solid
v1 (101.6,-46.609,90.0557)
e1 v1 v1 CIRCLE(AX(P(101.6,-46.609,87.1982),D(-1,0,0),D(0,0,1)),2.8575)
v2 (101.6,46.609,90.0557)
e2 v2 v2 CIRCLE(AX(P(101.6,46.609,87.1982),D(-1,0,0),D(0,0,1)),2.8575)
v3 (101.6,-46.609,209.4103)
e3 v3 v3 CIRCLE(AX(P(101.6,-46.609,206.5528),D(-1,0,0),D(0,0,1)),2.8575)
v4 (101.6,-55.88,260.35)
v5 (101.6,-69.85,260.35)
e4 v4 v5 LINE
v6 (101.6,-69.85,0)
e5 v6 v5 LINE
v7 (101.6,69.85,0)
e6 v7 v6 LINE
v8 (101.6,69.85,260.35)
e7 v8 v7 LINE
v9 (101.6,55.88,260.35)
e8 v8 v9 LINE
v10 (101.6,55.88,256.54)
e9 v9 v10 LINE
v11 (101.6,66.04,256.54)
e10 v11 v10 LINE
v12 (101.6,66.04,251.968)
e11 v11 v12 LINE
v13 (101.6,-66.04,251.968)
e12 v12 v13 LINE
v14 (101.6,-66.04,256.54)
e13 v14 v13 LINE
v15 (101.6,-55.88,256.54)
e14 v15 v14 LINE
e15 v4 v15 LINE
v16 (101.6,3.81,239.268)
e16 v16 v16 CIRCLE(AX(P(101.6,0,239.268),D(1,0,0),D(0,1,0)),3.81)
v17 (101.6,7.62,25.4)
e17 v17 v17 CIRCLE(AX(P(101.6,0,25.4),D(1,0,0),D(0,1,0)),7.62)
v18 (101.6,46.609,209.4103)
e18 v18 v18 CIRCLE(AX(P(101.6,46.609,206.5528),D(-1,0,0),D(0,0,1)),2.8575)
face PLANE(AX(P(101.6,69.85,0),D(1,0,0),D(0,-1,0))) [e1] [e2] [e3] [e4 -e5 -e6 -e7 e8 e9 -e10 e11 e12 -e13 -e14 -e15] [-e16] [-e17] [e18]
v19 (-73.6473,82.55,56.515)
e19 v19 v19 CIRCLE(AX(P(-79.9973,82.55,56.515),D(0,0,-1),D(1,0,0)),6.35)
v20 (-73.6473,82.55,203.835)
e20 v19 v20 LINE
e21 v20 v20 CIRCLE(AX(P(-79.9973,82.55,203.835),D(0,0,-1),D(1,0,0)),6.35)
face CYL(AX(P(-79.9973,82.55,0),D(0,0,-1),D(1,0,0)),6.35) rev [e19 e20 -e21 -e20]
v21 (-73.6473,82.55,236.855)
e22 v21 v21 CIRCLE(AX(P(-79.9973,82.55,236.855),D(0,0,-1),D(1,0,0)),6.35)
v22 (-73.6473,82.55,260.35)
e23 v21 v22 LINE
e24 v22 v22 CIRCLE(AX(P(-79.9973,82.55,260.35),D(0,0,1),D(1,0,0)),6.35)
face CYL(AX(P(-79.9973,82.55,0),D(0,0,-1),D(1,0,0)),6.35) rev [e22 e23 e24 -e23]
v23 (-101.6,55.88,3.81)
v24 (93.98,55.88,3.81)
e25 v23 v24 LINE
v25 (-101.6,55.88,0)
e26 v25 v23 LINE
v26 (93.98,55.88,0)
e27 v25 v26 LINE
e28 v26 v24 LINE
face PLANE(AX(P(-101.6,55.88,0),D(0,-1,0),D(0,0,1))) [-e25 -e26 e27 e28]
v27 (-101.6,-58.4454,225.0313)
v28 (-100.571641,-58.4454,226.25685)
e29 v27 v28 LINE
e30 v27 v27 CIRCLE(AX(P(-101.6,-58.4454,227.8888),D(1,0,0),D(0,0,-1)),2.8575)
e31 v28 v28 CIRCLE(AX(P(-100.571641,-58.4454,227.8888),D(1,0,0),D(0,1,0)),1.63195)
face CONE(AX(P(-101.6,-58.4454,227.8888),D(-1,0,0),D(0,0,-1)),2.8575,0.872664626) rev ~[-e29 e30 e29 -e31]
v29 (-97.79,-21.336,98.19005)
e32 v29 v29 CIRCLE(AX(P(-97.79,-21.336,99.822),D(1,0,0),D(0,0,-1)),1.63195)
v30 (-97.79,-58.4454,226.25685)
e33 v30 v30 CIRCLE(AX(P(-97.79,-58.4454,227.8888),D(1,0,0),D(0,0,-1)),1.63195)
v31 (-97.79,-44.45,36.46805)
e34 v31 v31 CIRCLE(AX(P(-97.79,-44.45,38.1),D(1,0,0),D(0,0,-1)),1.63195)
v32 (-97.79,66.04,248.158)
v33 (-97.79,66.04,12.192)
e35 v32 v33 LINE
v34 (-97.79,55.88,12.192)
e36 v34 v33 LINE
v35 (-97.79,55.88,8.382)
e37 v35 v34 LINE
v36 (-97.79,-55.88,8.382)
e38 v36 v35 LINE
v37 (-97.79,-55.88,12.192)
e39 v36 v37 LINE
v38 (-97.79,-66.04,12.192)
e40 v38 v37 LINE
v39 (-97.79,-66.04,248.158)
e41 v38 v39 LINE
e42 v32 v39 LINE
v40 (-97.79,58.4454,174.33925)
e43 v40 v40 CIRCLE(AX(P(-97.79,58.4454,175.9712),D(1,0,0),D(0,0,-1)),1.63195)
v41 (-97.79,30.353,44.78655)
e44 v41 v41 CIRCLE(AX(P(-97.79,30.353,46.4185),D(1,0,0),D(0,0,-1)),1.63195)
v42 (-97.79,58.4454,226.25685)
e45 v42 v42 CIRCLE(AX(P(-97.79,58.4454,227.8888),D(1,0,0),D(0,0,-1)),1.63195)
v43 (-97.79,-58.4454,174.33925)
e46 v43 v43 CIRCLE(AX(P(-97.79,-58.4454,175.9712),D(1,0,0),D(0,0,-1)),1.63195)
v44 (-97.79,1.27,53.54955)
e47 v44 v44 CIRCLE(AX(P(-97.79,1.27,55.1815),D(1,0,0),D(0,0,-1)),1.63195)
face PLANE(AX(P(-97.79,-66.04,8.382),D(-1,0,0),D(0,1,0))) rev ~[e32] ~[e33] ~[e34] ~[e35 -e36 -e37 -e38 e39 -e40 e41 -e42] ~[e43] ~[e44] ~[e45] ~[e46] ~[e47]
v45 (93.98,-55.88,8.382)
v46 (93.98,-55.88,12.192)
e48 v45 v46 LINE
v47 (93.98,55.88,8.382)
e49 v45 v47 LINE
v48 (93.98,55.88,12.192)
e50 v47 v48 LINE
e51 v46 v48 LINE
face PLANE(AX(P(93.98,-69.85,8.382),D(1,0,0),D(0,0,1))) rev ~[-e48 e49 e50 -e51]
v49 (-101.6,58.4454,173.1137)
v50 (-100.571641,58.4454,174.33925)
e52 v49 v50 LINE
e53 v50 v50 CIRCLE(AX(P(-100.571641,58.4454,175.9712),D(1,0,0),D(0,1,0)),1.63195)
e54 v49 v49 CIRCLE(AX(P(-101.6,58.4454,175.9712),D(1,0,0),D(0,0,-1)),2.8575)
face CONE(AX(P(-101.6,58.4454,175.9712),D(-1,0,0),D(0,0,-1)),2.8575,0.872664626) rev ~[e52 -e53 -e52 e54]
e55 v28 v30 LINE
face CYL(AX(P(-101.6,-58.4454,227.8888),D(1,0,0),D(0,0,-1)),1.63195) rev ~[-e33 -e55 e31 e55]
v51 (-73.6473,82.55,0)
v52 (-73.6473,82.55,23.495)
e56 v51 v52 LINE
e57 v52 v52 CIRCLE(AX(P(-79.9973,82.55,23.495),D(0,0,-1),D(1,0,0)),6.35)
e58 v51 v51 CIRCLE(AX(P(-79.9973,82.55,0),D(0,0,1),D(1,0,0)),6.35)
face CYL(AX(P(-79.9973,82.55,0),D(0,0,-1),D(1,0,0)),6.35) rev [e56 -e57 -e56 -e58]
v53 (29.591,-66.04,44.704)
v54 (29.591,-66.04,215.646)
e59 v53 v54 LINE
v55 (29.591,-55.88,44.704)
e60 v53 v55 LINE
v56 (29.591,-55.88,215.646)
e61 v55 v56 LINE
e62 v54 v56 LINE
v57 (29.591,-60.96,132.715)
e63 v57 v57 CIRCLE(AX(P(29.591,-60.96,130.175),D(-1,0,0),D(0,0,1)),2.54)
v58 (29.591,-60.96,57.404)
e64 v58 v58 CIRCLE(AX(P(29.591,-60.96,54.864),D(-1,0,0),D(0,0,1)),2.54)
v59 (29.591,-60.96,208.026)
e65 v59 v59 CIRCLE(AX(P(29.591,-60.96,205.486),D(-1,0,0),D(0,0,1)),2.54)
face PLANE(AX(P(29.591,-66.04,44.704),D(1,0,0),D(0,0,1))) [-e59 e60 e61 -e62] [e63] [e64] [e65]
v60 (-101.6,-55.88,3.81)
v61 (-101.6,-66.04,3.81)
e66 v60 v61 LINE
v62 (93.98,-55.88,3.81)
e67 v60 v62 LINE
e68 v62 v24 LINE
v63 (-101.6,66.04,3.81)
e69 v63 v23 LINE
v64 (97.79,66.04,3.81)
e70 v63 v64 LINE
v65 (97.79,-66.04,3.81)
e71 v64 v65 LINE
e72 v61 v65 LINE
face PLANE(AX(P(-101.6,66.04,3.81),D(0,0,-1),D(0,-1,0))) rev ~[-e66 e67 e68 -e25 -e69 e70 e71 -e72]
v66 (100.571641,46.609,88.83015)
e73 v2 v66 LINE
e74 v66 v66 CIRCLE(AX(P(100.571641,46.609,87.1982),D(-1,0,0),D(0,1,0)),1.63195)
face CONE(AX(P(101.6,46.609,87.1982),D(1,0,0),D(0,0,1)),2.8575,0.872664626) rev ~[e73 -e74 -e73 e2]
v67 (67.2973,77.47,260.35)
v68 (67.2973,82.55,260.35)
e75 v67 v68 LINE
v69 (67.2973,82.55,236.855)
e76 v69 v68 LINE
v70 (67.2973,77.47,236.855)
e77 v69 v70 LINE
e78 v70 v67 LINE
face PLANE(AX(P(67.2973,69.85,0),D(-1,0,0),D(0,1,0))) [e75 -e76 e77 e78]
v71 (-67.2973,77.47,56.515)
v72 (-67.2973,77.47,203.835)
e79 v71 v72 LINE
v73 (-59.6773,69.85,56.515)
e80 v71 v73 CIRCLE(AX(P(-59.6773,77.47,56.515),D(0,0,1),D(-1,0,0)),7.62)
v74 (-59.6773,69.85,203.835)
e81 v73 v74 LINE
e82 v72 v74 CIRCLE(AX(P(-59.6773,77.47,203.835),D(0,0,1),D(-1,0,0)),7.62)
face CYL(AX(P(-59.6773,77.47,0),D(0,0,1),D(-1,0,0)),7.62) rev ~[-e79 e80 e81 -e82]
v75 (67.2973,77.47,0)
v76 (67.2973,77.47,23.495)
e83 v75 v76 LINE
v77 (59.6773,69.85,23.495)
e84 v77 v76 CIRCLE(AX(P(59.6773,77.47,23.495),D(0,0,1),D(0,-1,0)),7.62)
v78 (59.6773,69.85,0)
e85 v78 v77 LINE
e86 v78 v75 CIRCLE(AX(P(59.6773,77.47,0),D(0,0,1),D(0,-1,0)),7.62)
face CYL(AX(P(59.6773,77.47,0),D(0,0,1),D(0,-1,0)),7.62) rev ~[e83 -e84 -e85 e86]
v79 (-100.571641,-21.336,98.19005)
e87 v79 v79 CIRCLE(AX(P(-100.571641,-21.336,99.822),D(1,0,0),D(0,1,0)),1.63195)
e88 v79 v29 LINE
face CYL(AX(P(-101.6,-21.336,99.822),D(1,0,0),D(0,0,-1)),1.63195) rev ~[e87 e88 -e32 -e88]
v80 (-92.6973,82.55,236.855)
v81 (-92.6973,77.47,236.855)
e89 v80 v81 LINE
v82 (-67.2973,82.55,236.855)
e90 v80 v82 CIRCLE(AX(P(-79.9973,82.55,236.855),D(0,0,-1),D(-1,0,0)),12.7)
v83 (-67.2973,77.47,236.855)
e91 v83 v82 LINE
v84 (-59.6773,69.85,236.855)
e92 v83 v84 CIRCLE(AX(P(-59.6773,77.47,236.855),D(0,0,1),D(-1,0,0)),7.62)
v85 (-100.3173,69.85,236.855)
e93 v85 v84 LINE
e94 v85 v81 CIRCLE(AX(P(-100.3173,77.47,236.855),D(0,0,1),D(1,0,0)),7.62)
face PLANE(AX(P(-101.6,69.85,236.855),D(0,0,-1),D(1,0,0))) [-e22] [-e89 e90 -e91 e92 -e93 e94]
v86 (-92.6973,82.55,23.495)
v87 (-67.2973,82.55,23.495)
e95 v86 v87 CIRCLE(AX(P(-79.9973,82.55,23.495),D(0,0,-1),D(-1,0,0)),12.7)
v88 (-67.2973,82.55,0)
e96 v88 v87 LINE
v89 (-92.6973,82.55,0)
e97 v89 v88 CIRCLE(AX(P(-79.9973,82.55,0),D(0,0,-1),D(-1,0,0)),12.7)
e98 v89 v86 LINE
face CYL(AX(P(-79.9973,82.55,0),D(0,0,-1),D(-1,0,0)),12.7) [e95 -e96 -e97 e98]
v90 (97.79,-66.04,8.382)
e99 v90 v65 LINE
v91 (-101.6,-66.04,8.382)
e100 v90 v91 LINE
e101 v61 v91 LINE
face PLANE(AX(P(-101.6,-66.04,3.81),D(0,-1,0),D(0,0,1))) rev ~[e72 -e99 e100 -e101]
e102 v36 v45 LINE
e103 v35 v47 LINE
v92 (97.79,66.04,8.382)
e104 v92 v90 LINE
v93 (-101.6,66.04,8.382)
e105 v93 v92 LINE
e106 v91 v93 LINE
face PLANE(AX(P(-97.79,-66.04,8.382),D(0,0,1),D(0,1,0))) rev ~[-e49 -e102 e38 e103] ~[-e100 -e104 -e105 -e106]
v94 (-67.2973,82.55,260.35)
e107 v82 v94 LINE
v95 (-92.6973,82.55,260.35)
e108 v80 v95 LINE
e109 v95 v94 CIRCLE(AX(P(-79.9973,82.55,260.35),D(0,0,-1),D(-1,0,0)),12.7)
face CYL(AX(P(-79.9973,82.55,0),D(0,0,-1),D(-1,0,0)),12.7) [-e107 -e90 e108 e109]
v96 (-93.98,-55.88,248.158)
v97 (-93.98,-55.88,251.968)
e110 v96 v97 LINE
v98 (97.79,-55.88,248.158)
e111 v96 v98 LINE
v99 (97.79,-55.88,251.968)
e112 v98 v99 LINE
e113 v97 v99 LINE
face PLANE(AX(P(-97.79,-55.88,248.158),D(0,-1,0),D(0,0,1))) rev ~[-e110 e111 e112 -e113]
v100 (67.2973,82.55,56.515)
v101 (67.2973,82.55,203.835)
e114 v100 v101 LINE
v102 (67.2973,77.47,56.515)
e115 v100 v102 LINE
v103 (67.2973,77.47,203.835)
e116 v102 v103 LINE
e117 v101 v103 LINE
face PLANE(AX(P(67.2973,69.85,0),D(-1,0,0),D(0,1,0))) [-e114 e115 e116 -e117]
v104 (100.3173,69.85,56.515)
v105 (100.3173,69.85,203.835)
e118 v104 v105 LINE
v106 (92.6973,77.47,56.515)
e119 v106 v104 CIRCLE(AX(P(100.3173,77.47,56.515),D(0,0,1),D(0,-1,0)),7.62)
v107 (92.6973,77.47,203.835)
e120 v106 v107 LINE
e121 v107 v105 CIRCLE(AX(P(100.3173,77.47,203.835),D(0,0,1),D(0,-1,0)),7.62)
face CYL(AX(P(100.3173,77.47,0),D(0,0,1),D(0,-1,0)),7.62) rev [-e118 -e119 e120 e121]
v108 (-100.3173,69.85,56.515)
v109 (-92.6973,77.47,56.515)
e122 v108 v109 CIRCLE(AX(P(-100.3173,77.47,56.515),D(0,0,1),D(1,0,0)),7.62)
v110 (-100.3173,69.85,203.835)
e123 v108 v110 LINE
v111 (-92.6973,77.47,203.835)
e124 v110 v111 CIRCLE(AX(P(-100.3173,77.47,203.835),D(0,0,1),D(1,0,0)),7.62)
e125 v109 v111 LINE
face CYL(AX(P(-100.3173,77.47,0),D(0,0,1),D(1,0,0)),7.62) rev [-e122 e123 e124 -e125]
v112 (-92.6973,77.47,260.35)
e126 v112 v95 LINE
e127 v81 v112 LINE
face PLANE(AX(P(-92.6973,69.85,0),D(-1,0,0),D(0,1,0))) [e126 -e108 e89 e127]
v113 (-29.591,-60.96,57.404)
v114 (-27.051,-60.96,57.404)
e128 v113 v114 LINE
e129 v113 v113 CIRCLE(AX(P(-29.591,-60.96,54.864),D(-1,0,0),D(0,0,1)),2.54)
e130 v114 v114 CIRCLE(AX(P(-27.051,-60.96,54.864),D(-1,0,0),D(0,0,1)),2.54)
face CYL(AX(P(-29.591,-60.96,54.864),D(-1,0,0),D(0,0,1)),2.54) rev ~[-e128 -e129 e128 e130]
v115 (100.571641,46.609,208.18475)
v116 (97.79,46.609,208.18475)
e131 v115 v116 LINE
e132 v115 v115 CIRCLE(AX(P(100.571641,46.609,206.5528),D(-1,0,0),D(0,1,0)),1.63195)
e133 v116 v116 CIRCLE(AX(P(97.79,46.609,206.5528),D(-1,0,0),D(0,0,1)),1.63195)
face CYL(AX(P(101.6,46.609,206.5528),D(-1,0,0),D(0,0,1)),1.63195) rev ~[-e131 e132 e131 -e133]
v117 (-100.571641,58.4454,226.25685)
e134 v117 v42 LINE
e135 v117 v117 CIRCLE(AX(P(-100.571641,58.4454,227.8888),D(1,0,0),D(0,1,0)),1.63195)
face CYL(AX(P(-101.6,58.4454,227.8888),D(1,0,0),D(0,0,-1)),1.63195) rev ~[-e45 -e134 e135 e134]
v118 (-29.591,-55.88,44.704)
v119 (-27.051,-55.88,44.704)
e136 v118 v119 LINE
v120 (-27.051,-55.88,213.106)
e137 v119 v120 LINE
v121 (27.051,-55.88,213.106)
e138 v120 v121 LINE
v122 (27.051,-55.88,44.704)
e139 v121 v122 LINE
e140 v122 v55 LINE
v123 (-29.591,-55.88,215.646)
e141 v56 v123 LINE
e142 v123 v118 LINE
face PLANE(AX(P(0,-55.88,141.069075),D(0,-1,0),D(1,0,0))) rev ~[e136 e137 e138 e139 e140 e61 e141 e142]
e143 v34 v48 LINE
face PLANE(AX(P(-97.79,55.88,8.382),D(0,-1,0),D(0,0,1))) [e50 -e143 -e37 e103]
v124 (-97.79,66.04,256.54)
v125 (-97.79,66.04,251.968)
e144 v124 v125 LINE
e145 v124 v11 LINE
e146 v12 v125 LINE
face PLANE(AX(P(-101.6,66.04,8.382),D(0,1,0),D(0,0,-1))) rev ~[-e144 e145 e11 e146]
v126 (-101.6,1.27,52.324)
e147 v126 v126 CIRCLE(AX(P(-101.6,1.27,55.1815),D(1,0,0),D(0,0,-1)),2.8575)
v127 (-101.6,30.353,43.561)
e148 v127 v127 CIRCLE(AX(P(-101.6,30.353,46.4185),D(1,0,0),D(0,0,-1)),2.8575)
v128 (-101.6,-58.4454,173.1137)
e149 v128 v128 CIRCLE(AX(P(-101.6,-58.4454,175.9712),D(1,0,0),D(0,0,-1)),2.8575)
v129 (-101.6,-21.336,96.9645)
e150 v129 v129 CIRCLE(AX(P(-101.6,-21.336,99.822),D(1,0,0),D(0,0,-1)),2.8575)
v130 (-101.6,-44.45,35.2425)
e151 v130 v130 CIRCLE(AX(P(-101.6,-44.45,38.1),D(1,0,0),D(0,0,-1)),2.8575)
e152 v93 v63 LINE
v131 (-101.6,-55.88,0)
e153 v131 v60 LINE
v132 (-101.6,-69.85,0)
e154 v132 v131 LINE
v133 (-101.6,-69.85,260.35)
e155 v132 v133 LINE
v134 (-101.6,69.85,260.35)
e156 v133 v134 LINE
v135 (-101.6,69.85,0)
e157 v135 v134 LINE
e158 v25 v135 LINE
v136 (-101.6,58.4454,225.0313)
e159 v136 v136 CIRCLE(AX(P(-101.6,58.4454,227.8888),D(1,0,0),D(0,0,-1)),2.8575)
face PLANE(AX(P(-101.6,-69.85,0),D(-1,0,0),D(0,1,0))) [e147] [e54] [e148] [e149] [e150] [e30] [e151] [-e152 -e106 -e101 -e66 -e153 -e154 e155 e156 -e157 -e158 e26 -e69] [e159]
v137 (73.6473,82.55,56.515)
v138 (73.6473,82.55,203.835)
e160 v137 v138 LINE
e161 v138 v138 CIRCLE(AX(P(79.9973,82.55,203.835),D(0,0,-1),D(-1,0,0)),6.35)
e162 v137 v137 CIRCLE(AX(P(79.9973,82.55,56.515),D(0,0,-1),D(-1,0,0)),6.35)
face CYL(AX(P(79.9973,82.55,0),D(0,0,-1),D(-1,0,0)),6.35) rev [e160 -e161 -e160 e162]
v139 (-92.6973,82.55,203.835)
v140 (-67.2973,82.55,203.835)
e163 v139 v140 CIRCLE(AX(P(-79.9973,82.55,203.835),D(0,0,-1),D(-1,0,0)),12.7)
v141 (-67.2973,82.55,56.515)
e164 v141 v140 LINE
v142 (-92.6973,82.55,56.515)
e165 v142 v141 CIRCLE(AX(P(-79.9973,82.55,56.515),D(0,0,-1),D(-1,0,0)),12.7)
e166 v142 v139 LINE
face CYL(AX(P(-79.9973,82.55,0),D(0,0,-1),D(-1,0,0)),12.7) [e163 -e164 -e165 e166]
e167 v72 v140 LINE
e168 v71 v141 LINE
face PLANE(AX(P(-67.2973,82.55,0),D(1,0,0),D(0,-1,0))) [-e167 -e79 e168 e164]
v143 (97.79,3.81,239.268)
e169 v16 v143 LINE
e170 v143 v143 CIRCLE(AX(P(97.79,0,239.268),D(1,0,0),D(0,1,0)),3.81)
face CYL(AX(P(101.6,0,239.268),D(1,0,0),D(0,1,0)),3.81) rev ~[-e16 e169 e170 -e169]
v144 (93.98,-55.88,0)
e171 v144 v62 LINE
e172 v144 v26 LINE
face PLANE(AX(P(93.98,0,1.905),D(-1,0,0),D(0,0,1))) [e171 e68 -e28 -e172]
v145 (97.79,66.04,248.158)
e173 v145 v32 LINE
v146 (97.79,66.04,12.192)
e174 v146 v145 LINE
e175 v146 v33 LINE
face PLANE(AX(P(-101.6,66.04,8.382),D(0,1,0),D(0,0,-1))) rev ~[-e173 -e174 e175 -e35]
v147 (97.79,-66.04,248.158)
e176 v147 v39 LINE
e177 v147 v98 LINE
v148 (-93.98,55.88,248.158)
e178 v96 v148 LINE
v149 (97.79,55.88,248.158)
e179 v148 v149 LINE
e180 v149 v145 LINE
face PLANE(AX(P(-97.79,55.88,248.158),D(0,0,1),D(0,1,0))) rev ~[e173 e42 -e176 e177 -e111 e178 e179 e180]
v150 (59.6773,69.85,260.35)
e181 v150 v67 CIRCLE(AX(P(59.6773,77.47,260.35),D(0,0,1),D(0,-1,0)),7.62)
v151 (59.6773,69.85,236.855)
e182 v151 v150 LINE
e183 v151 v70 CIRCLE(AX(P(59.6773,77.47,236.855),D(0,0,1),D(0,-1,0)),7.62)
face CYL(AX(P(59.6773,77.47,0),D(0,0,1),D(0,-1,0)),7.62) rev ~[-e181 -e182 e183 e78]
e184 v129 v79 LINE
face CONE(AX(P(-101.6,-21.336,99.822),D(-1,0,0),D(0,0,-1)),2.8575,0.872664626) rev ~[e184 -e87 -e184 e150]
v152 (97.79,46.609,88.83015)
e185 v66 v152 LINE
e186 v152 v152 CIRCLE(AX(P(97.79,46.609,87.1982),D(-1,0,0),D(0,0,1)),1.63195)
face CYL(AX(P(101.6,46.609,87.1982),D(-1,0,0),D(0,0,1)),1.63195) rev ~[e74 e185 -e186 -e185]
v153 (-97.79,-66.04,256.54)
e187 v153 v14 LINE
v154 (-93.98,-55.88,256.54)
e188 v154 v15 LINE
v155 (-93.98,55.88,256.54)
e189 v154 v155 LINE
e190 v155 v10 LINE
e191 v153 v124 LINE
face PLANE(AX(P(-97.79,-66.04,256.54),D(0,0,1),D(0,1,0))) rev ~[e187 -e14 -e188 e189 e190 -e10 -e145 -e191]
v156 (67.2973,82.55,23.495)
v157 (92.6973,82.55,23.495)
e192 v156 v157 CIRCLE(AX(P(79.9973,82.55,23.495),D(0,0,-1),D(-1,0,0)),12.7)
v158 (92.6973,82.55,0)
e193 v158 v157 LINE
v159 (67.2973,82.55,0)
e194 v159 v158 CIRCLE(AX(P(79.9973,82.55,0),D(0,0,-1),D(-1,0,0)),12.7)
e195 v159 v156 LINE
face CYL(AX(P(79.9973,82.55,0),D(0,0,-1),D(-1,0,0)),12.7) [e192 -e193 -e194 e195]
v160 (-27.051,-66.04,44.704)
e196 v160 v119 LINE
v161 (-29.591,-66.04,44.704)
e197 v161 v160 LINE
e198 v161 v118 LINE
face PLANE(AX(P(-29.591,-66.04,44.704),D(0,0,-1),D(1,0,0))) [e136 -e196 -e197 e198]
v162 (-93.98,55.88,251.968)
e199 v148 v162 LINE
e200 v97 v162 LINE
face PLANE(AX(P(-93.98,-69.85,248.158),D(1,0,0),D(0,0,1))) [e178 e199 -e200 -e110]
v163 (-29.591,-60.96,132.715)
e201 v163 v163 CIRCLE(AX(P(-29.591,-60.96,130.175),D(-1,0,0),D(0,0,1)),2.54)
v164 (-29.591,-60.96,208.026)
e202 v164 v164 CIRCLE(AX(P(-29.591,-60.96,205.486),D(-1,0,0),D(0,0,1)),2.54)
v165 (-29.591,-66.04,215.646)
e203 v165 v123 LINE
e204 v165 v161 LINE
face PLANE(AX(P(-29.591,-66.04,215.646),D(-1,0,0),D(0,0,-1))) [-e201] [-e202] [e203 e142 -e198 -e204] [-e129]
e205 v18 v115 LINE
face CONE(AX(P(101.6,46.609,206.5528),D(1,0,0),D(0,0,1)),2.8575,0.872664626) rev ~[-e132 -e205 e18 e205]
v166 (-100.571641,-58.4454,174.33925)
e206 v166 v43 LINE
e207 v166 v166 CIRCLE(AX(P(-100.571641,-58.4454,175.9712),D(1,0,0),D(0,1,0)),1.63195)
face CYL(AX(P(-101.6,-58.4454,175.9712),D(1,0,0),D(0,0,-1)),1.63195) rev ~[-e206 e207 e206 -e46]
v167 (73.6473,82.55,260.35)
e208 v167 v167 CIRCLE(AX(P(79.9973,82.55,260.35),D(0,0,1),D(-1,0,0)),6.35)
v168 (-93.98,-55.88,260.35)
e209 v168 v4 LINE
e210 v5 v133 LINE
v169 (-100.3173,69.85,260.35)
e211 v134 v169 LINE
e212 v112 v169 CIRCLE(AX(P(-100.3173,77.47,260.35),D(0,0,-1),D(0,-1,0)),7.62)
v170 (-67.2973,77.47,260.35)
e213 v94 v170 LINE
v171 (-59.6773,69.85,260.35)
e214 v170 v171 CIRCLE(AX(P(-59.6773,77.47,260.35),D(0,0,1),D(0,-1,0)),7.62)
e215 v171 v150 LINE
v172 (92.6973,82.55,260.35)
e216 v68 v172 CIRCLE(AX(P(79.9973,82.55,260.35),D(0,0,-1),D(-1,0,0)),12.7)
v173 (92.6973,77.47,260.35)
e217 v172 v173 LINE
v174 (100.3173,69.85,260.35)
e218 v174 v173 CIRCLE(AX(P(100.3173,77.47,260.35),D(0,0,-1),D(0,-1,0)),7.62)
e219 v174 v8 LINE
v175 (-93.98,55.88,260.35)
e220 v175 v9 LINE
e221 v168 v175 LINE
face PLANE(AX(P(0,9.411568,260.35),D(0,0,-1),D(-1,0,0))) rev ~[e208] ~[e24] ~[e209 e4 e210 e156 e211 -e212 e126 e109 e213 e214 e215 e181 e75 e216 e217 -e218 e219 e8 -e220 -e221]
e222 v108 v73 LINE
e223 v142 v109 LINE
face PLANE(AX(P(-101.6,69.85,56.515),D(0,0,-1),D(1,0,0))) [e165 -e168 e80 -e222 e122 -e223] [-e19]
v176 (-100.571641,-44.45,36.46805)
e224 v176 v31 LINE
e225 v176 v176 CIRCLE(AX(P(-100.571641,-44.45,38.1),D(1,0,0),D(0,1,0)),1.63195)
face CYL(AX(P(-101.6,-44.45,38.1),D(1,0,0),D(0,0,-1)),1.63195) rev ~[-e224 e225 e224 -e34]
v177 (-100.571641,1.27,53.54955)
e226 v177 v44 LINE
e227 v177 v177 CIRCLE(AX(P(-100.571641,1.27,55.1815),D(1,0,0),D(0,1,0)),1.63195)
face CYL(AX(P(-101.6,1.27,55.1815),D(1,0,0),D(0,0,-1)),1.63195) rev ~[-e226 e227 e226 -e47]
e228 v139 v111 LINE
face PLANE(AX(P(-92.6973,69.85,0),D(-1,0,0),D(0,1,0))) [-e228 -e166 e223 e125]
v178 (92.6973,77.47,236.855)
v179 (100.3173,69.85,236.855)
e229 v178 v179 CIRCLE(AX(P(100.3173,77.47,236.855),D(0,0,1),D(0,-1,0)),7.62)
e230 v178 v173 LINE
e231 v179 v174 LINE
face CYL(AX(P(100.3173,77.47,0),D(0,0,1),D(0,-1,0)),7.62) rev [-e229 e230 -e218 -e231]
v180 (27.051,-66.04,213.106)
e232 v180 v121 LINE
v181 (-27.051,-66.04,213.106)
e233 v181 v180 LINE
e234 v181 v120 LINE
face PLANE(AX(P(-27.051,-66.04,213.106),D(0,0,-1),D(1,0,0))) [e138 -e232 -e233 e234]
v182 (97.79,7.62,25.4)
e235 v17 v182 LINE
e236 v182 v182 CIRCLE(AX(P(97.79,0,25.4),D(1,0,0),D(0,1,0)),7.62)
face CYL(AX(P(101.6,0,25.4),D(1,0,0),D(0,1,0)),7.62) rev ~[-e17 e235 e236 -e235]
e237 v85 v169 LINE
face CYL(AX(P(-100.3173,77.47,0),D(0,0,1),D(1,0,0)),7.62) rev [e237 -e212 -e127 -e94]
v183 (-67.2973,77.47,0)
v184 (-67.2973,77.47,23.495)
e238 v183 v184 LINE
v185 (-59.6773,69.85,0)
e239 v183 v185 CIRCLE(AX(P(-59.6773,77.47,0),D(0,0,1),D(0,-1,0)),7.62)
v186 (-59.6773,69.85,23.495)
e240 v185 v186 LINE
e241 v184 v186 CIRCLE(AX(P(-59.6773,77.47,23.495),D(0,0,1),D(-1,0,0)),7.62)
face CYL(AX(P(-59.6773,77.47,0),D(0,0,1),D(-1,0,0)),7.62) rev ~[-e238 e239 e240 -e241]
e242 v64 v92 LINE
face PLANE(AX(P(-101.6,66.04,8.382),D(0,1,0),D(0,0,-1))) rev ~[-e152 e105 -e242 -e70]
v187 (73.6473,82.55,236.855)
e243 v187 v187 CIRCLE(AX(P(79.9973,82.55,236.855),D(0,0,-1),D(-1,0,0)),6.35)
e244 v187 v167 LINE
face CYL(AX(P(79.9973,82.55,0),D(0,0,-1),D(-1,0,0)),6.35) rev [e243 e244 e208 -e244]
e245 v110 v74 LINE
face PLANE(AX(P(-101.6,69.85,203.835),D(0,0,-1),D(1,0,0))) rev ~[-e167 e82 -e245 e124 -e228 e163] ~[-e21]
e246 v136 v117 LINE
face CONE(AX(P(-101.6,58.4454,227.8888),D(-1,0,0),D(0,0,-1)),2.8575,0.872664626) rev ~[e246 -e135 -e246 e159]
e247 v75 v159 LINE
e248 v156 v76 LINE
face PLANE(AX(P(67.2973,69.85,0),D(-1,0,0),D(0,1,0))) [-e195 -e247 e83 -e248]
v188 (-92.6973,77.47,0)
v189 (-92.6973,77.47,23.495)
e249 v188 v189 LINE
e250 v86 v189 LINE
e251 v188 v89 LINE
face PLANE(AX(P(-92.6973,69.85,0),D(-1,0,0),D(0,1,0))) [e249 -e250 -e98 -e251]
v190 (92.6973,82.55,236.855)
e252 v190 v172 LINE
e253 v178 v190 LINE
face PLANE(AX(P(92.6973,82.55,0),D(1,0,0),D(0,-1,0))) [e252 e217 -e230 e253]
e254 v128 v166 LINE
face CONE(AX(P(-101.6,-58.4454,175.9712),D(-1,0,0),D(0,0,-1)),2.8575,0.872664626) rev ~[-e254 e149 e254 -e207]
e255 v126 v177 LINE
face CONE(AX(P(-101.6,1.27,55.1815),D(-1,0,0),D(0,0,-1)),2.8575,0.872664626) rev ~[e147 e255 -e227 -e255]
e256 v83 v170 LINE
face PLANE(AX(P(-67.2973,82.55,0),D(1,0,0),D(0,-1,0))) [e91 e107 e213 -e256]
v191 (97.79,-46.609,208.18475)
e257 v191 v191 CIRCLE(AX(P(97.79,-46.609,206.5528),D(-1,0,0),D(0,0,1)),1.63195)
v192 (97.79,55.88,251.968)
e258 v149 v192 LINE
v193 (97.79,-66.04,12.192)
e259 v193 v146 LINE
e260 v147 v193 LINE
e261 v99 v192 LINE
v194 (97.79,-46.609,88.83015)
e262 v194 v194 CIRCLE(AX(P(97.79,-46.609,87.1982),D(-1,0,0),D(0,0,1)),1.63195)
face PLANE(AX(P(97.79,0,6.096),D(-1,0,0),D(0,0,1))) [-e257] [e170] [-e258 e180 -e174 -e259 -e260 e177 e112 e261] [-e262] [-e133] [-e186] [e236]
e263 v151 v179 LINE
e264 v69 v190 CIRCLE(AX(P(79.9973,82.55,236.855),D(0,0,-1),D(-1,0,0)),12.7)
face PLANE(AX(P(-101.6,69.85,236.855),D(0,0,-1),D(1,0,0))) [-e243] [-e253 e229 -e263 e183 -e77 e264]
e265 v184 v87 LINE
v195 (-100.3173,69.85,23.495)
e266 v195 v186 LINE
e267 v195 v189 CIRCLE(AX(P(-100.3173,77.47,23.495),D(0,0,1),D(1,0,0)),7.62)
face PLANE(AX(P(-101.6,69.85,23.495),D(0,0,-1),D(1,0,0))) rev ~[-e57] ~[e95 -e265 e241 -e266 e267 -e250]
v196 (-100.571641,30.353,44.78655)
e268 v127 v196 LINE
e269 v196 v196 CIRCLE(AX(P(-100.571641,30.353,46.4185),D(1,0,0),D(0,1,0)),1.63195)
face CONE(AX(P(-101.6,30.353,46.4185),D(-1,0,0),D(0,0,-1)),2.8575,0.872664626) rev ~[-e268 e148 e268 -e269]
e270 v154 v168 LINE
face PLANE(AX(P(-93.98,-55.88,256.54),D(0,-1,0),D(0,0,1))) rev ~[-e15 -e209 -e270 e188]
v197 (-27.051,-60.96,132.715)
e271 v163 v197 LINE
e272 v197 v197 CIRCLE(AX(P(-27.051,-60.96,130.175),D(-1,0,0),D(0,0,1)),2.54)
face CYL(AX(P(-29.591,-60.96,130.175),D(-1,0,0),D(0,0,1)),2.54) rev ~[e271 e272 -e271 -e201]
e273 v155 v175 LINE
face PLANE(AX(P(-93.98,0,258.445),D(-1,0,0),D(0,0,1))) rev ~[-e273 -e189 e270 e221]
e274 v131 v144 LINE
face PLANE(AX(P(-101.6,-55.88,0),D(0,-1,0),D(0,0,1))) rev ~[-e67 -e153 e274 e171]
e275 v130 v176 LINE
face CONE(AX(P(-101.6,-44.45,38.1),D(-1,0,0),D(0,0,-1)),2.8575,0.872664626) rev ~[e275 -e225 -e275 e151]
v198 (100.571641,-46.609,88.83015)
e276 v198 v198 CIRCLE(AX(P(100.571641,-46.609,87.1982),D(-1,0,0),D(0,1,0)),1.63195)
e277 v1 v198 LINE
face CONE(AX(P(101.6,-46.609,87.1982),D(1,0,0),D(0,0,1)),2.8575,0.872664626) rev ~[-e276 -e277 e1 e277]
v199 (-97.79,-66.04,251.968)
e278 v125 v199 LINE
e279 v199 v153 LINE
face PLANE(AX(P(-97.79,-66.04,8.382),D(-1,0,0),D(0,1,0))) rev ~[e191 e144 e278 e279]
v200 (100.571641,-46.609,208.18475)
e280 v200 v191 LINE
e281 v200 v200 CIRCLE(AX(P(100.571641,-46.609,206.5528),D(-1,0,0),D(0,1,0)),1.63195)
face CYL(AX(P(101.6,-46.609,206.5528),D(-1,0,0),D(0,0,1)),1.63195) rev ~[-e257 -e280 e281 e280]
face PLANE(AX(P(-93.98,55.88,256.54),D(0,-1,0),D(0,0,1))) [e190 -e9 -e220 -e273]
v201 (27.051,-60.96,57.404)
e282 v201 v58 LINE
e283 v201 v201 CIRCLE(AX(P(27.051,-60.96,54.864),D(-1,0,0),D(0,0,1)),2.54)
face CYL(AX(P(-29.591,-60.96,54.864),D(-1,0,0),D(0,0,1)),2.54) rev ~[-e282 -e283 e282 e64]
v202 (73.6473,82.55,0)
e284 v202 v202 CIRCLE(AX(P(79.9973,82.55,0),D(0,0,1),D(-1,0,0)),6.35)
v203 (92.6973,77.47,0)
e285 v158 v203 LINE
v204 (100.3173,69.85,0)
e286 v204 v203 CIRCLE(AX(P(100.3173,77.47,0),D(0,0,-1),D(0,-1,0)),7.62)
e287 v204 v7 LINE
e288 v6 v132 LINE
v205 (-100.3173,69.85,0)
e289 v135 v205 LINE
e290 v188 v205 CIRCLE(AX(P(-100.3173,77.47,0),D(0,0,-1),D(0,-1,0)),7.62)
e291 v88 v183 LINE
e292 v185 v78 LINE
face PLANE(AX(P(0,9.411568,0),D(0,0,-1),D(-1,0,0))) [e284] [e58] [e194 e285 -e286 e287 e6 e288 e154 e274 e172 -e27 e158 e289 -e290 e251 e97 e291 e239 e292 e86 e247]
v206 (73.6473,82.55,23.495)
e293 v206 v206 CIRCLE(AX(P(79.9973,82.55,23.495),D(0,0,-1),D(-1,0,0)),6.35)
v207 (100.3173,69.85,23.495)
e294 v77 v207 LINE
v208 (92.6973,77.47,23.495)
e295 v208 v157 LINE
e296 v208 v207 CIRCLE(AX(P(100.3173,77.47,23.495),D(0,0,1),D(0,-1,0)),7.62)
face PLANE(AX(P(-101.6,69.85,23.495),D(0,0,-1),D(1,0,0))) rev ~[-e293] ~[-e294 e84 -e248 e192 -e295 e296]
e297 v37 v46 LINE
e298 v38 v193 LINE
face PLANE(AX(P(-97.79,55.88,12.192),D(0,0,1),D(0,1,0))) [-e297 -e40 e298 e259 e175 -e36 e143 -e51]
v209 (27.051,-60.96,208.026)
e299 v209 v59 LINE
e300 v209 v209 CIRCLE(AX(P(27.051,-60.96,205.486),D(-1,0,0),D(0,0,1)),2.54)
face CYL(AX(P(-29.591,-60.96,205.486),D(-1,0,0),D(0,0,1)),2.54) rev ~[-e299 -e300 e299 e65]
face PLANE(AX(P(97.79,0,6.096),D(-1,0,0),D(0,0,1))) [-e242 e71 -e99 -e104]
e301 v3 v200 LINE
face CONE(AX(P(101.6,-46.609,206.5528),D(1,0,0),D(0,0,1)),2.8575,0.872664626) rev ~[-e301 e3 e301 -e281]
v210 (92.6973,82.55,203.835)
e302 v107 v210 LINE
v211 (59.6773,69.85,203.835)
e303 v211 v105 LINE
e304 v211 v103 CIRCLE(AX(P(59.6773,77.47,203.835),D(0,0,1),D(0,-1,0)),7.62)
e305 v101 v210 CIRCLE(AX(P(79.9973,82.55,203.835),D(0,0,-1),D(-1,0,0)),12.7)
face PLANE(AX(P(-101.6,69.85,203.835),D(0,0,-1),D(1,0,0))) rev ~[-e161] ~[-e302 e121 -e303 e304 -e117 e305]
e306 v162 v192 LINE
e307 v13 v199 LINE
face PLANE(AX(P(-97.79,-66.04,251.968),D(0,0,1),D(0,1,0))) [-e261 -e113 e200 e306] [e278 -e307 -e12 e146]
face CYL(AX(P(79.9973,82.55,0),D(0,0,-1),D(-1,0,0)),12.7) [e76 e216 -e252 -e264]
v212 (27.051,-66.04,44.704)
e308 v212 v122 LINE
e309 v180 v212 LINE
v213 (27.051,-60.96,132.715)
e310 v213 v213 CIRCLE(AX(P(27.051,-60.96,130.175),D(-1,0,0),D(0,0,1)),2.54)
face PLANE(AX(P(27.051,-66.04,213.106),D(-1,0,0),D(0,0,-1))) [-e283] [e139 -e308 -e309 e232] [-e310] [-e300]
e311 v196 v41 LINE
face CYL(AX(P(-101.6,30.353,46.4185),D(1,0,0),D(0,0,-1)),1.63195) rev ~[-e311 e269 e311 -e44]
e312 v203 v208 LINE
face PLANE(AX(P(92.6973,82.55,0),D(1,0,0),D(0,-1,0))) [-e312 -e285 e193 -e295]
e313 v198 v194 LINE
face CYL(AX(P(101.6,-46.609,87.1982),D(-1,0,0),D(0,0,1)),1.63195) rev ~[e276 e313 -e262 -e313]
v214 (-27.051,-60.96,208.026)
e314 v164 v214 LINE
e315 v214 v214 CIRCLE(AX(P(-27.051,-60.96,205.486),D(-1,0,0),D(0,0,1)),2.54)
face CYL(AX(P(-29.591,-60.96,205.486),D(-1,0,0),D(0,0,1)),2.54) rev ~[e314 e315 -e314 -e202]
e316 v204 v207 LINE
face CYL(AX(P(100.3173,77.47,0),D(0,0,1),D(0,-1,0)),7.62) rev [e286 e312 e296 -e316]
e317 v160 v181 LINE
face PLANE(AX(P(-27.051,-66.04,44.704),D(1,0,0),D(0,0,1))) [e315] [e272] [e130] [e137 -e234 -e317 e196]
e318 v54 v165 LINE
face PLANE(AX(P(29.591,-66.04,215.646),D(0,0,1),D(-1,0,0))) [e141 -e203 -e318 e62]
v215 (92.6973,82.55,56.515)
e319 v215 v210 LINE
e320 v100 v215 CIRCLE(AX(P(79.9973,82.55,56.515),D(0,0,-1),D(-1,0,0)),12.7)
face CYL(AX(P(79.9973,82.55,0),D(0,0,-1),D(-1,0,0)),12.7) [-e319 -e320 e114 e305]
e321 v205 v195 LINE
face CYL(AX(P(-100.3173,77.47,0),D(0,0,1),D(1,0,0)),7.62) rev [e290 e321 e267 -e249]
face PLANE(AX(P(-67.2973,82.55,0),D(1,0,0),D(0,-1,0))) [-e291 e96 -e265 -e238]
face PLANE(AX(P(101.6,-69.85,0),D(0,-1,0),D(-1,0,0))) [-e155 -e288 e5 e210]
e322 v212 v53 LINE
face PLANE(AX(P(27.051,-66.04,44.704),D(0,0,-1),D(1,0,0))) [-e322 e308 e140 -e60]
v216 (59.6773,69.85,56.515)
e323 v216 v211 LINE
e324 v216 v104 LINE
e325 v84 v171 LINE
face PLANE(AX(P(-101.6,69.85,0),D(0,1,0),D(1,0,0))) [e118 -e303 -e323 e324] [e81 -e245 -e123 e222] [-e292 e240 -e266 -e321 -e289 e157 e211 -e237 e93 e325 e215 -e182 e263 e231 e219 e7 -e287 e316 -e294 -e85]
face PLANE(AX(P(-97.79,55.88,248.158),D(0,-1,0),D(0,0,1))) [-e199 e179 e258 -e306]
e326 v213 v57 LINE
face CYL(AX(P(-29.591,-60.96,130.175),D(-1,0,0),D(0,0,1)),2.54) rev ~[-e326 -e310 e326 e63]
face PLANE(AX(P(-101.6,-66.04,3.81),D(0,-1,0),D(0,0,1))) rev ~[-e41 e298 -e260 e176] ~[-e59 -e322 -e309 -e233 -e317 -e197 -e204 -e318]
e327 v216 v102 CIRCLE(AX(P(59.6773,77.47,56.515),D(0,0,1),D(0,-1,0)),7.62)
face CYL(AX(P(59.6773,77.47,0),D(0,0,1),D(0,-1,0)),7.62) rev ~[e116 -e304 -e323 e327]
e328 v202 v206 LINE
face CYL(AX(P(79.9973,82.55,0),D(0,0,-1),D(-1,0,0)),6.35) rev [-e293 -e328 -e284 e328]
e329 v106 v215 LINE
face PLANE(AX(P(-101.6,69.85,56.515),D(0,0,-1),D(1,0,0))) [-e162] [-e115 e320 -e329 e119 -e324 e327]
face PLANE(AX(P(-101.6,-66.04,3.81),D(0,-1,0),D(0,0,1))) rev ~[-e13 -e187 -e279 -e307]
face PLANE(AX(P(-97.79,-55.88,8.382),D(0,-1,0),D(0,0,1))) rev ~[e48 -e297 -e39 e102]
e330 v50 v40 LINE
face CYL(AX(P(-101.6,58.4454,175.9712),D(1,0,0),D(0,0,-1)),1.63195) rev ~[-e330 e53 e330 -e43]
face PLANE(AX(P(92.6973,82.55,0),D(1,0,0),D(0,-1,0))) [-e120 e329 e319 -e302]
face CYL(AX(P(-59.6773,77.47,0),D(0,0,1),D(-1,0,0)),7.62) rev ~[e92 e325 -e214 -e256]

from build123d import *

# Parameters (mm, degrees)
SKETCH1_R                        = 6.35
BODY_EXTRUDE_DEPTH               = 260.35
ATTACHMENT_FILLET_R              = 7.62
BACK_DOOR_CUT_DEPTH              = 199.39
SKETCH4_3_W                      = 3.81
SKETCH4_3_H                      = 111.76
BACK_DOOR_CUT_2_DEPTH            = 195.58
FRONT_DOOR_CUT_START             = -3.81
SKETCH4_5_W                      = 4.572
SKETCH4_5_H                      = 132.08
FRONT_DOOR_CUT_DEPTH             = 340.912162509
FRONT_DOOR_CUT_2_START           = -7.62
SKETCH4_6_W                      = 3.81
SKETCH4_6_H                      = 111.76
FRONT_DOOR_CUT_2_DEPTH           = 337.102162509
SKETCH5_W                        = 203.2
SKETCH5_H                        = 33.02
STOPPER_CUT_DEPTH                = 313.443230844
SKETCH6_W                        = 195.58
SKETCH6_H                        = 132.08
HOLLOW_CUT_DEPTH                 = 243.586
SKETCH7_W                        = 3.81
SKETCH7_H                        = 10.16
INNER_RAIL_EXTRUDE_DEPTH         = 195.58
BATTERY_RAILS_EXTRUDE_DEPTH      = 10.16
BATTERY_RAIL_HOLES_CUT_REACH     = 308.701
SKETCH12_R                       = 2.54
USRP_HOLES_D                     = 3.2639
USRP_HOLES_DEPTH                 = 3.81
USRP_HOLES_CSINK_D               = 5.715
USRP_HOLES_CSINK_ANGLE           = 100
JETSON_HOLES_D                   = 3.2639
JETSON_HOLES_DEPTH               = 3.81
JETSON_HOLES_CSINK_D             = 5.715
JETSON_HOLES_CSINK_ANGLE         = 100
CUI_HOLES_D                      = 3.2639
CUI_HOLES_DEPTH                  = 3.81
CUI_HOLES_CSINK_D                = 5.715
CUI_HOLES_CSINK_ANGLE            = 100
SKETCH19_W                       = 7.62
SKETCH19_H                       = 3.81
INNER_DOOR_STOPPERS_DEPTH        = 135.89
TERMINAL_BLOCK_HOLES_D           = 3.2639
TERMINAL_BLOCK_HOLES_DEPTH       = 3.81
TERMINAL_BLOCK_HOLES_CSINK_D     = 5.715
TERMINAL_BLOCK_HOLES_CSINK_ANGLE = 100
SKETCH23_R                       = 3.81
SKETCH23_R_2                     = 7.62
MARINE_SEAL_DEPTH                = 3.81


with BuildPart() as part:
    # Sketch1 → body_extrude (new body)
    with BuildSketch(Plane.XY):
        with BuildLine():
            Line((-92.6973, 69.85), (-92.6973, 82.55))
            ThreePointArc((-92.6973, 82.55), (-79.9973, 95.25), (-67.2973, 82.55))
            Line((-67.2973, 82.55), (-67.2973, 69.85))
            Line((-67.2973, 69.85), (67.2973, 69.85))
            Line((67.2973, 69.85), (67.2973, 82.55))
            ThreePointArc((67.2973, 82.55), (79.9973, 95.25), (92.6973, 82.55))
            Line((92.6973, 82.55), (92.6973, 69.85))
            Line((92.6973, 69.85), (101.6, 69.85))
            Line((101.6, 69.85), (101.6, -69.85))
            Line((101.6, -69.85), (-101.6, -69.85))
            Line((-101.6, -69.85), (-101.6, 69.85))
            Line((-101.6, 69.85), (-92.6973, 69.85))
        make_face()
        with Locations((-79.9973, 82.55)):
            Circle(SKETCH1_R, mode=Mode.SUBTRACT)
        with Locations(Location((79.9973, 82.55, 0), (0, 0, 180))):
            Circle(SKETCH1_R, mode=Mode.SUBTRACT)
    extrude(amount=BODY_EXTRUDE_DEPTH)

    # attachment_fillet
    attachment_fillet_edges = [part.edges().sort_by_distance(p)[0] for p in [
        (-92.6973, 69.85, 130.175),
        (-67.2973, 69.85, 130.175),
        (67.2973, 69.85, 130.175),
        (92.6973, 69.85, 130.175),
    ]]
    fillet(attachment_fillet_edges, radius=ATTACHMENT_FILLET_R)

    # Sketch4 → back_door_cut (cut)
    with BuildSketch(Plane.ZY.offset(101.6)):
        Polygon((3.81, 55.88), (3.81, -55.88), (3.81, -66.04), (8.382, -66.04), (8.382, 66.04), (3.81, 66.04), align=None)
    extrude(amount=-BACK_DOOR_CUT_DEPTH, mode=Mode.SUBTRACT)

    # Sketch4<3> → back_door_cut_2 (cut)
    with BuildSketch(Plane.ZY.offset(101.6)):
        with Locations((1.905, 0)):
            Rectangle(SKETCH4_3_W, SKETCH4_3_H)
    extrude(amount=-BACK_DOOR_CUT_2_DEPTH, mode=Mode.SUBTRACT)

    # Sketch4<5> → front_door_cut (cut, through all)
    with BuildSketch(Plane.ZY.offset(101.6).offset(FRONT_DOOR_CUT_START)):
        with Locations((254.254, 0)):
            Rectangle(SKETCH4_5_W, SKETCH4_5_H)
    extrude(amount=-FRONT_DOOR_CUT_DEPTH, mode=Mode.SUBTRACT)

    # Sketch4<6> → front_door_cut_2 (cut, through all)
    with BuildSketch(Plane.ZY.offset(101.6).offset(FRONT_DOOR_CUT_2_START)):
        with Locations((258.445, 0)):
            Rectangle(SKETCH4_6_W, SKETCH4_6_H)
    extrude(amount=-FRONT_DOOR_CUT_2_DEPTH, mode=Mode.SUBTRACT)

    # Sketch5 → stopper_cut (cut, through all)
    with BuildSketch(Plane(origin=(0, 69.85, 0), x_dir=(1, 0, 0), z_dir=(0, 1, 0))):
        with Locations((0, -40.005)):
            Rectangle(SKETCH5_W, SKETCH5_H)
        with Locations((0, -220.345)):
            Rectangle(SKETCH5_W, SKETCH5_H)
    extrude(amount=STOPPER_CUT_DEPTH, mode=Mode.SUBTRACT)

    # Sketch6 → hollow_cut (cut)
    with BuildSketch(Plane(origin=(0, 0, 8.382), x_dir=(-1, 0, 0), z_dir=(0, 0, -1))):
        Rectangle(SKETCH6_W, SKETCH6_H)
    extrude(amount=-HOLLOW_CUT_DEPTH, mode=Mode.SUBTRACT)

    # Sketch7 → inner_rail_extrude (add)
    with BuildSketch(Plane.ZY.offset(97.79)):
        with Locations((10.287, -60.96)):
            Rectangle(SKETCH7_W, SKETCH7_H)
        with Locations((10.287, 60.96)):
            Rectangle(SKETCH7_W, SKETCH7_H)
        with Locations((250.063, -60.96)):
            Rectangle(SKETCH7_W, SKETCH7_H)
        with Locations((250.063, 60.96)):
            Rectangle(SKETCH7_W, SKETCH7_H)
    extrude(amount=-INNER_RAIL_EXTRUDE_DEPTH)

    # Sketch11 → battery_rails_extrude (add)
    with BuildSketch(Plane.XZ.offset(66.04)):
        Polygon((-27.051, 213.106), (27.051, 213.106), (27.051, 47.244), (27.051, 44.704), (29.591, 44.704), (29.591, 215.646), (-29.591, 215.646), (-29.591, 44.704), (-27.051, 44.704), (-27.051, 47.244), align=None)
    extrude(amount=-BATTERY_RAILS_EXTRUDE_DEPTH)

    # battery_rail_holes_cut: up to this face of the body (flat: up to its plane)
    battery_rail_holes_cut_end = Plane(part.part.faces().sort_by_distance((29.591, -60.96, 130.175))[0])
    # Sketch12 → battery_rail_holes_cut (cut, up to the picked face)
    with BuildSketch(Plane.ZY.offset(29.591), mode=Mode.PRIVATE) as battery_rail_holes_cut_sk1:
        with Locations((54.864, -60.96)):
            Circle(SKETCH12_R)
    battery_rail_holes_cut_tool1 = split(extrude(battery_rail_holes_cut_sk1.sketch, amount=-BATTERY_RAIL_HOLES_CUT_REACH, mode=Mode.PRIVATE), bisect_by=battery_rail_holes_cut_end, keep=Keep.BOTH, mode=Mode.PRIVATE)
    # Sketch12 → battery_rail_holes_cut (cut, up to the picked face)
    with BuildSketch(Plane.ZY.offset(29.591), mode=Mode.PRIVATE) as battery_rail_holes_cut_sk2:
        with Locations((130.175, -60.96)):
            Circle(SKETCH12_R)
    battery_rail_holes_cut_tool2 = split(extrude(battery_rail_holes_cut_sk2.sketch, amount=-BATTERY_RAIL_HOLES_CUT_REACH, mode=Mode.PRIVATE), bisect_by=battery_rail_holes_cut_end, keep=Keep.BOTH, mode=Mode.PRIVATE)
    # Sketch12 → battery_rail_holes_cut (cut, up to the picked face)
    with BuildSketch(Plane.ZY.offset(29.591), mode=Mode.PRIVATE) as battery_rail_holes_cut_sk3:
        with Locations((205.486, -60.96)):
            Circle(SKETCH12_R)
    battery_rail_holes_cut_tool3 = split(extrude(battery_rail_holes_cut_sk3.sketch, amount=-BATTERY_RAIL_HOLES_CUT_REACH, mode=Mode.PRIVATE), bisect_by=battery_rail_holes_cut_end, keep=Keep.BOTH, mode=Mode.PRIVATE)
    add(battery_rail_holes_cut_tool1.solids().sort_by(Axis((-29.591, -60.96, 54.864), (1, 0, 0)))[0], mode=Mode.SUBTRACT)
    add(battery_rail_holes_cut_tool2.solids().sort_by(Axis((-29.591, -60.96, 130.175), (1, 0, 0)))[0], mode=Mode.SUBTRACT)
    add(battery_rail_holes_cut_tool3.solids().sort_by(Axis((-29.591, -60.96, 205.486), (1, 0, 0)))[0], mode=Mode.SUBTRACT)

    # usrp_holes
    with Locations(Plane(origin=(101.6, 0, 0), x_dir=(0, 0, -1), z_dir=(1, 0, 0))):
        with Locations((-87.1982, 46.609), (-206.5528, 46.609), (-206.5528, -46.609), (-87.1982, -46.609)):
            CounterSinkHole(USRP_HOLES_D / 2, USRP_HOLES_CSINK_D / 2, depth=USRP_HOLES_DEPTH, counter_sink_angle=USRP_HOLES_CSINK_ANGLE)

    # jetson_holes
    with Locations(Plane.ZY.offset(101.6)):
        with Locations((175.9712, -58.4454), (175.9712, 58.4454), (227.8888, 58.4454), (227.8888, -58.4454)):
            CounterSinkHole(JETSON_HOLES_D / 2, JETSON_HOLES_CSINK_D / 2, depth=JETSON_HOLES_DEPTH, counter_sink_angle=JETSON_HOLES_CSINK_ANGLE)

    # cui_holes
    with Locations(Plane.ZY.offset(101.6)):
        with Locations((99.822, -21.336), (38.1, -44.45)):
            CounterSinkHole(CUI_HOLES_D / 2, CUI_HOLES_CSINK_D / 2, depth=CUI_HOLES_DEPTH, counter_sink_angle=CUI_HOLES_CSINK_ANGLE)

    # Sketch19 → inner_door_stoppers (add)
    with BuildSketch(Plane.XZ.offset(69.85)):
        with Locations((97.79, 10.287)):
            Rectangle(SKETCH19_W, SKETCH19_H)
        with Locations((-97.79, 250.063)):
            Rectangle(SKETCH19_W, SKETCH19_H)
    extrude(amount=-INNER_DOOR_STOPPERS_DEPTH)

    # terminal_block_holes
    with Locations(Plane.ZY.offset(101.6)):
        with Locations((55.1815, 1.27), (46.4185, 30.353)):
            CounterSinkHole(TERMINAL_BLOCK_HOLES_D / 2, TERMINAL_BLOCK_HOLES_CSINK_D / 2, depth=TERMINAL_BLOCK_HOLES_DEPTH, counter_sink_angle=TERMINAL_BLOCK_HOLES_CSINK_ANGLE)

    # Sketch23 → marine_seal (cut)
    with BuildSketch(Plane(origin=(101.6, 0, 0), x_dir=(0, 0, -1), z_dir=(1, 0, 0))):
        with Locations(Location((-239.268, 0, 0), (0, 0, 90))):
            Circle(SKETCH23_R)
        with Locations(Location((-25.4, 0, 0), (0, 0, 90))):
            Circle(SKETCH23_R_2)
    extrude(amount=-MARINE_SEAL_DEPTH, mode=Mode.SUBTRACT)


solid = part.part
